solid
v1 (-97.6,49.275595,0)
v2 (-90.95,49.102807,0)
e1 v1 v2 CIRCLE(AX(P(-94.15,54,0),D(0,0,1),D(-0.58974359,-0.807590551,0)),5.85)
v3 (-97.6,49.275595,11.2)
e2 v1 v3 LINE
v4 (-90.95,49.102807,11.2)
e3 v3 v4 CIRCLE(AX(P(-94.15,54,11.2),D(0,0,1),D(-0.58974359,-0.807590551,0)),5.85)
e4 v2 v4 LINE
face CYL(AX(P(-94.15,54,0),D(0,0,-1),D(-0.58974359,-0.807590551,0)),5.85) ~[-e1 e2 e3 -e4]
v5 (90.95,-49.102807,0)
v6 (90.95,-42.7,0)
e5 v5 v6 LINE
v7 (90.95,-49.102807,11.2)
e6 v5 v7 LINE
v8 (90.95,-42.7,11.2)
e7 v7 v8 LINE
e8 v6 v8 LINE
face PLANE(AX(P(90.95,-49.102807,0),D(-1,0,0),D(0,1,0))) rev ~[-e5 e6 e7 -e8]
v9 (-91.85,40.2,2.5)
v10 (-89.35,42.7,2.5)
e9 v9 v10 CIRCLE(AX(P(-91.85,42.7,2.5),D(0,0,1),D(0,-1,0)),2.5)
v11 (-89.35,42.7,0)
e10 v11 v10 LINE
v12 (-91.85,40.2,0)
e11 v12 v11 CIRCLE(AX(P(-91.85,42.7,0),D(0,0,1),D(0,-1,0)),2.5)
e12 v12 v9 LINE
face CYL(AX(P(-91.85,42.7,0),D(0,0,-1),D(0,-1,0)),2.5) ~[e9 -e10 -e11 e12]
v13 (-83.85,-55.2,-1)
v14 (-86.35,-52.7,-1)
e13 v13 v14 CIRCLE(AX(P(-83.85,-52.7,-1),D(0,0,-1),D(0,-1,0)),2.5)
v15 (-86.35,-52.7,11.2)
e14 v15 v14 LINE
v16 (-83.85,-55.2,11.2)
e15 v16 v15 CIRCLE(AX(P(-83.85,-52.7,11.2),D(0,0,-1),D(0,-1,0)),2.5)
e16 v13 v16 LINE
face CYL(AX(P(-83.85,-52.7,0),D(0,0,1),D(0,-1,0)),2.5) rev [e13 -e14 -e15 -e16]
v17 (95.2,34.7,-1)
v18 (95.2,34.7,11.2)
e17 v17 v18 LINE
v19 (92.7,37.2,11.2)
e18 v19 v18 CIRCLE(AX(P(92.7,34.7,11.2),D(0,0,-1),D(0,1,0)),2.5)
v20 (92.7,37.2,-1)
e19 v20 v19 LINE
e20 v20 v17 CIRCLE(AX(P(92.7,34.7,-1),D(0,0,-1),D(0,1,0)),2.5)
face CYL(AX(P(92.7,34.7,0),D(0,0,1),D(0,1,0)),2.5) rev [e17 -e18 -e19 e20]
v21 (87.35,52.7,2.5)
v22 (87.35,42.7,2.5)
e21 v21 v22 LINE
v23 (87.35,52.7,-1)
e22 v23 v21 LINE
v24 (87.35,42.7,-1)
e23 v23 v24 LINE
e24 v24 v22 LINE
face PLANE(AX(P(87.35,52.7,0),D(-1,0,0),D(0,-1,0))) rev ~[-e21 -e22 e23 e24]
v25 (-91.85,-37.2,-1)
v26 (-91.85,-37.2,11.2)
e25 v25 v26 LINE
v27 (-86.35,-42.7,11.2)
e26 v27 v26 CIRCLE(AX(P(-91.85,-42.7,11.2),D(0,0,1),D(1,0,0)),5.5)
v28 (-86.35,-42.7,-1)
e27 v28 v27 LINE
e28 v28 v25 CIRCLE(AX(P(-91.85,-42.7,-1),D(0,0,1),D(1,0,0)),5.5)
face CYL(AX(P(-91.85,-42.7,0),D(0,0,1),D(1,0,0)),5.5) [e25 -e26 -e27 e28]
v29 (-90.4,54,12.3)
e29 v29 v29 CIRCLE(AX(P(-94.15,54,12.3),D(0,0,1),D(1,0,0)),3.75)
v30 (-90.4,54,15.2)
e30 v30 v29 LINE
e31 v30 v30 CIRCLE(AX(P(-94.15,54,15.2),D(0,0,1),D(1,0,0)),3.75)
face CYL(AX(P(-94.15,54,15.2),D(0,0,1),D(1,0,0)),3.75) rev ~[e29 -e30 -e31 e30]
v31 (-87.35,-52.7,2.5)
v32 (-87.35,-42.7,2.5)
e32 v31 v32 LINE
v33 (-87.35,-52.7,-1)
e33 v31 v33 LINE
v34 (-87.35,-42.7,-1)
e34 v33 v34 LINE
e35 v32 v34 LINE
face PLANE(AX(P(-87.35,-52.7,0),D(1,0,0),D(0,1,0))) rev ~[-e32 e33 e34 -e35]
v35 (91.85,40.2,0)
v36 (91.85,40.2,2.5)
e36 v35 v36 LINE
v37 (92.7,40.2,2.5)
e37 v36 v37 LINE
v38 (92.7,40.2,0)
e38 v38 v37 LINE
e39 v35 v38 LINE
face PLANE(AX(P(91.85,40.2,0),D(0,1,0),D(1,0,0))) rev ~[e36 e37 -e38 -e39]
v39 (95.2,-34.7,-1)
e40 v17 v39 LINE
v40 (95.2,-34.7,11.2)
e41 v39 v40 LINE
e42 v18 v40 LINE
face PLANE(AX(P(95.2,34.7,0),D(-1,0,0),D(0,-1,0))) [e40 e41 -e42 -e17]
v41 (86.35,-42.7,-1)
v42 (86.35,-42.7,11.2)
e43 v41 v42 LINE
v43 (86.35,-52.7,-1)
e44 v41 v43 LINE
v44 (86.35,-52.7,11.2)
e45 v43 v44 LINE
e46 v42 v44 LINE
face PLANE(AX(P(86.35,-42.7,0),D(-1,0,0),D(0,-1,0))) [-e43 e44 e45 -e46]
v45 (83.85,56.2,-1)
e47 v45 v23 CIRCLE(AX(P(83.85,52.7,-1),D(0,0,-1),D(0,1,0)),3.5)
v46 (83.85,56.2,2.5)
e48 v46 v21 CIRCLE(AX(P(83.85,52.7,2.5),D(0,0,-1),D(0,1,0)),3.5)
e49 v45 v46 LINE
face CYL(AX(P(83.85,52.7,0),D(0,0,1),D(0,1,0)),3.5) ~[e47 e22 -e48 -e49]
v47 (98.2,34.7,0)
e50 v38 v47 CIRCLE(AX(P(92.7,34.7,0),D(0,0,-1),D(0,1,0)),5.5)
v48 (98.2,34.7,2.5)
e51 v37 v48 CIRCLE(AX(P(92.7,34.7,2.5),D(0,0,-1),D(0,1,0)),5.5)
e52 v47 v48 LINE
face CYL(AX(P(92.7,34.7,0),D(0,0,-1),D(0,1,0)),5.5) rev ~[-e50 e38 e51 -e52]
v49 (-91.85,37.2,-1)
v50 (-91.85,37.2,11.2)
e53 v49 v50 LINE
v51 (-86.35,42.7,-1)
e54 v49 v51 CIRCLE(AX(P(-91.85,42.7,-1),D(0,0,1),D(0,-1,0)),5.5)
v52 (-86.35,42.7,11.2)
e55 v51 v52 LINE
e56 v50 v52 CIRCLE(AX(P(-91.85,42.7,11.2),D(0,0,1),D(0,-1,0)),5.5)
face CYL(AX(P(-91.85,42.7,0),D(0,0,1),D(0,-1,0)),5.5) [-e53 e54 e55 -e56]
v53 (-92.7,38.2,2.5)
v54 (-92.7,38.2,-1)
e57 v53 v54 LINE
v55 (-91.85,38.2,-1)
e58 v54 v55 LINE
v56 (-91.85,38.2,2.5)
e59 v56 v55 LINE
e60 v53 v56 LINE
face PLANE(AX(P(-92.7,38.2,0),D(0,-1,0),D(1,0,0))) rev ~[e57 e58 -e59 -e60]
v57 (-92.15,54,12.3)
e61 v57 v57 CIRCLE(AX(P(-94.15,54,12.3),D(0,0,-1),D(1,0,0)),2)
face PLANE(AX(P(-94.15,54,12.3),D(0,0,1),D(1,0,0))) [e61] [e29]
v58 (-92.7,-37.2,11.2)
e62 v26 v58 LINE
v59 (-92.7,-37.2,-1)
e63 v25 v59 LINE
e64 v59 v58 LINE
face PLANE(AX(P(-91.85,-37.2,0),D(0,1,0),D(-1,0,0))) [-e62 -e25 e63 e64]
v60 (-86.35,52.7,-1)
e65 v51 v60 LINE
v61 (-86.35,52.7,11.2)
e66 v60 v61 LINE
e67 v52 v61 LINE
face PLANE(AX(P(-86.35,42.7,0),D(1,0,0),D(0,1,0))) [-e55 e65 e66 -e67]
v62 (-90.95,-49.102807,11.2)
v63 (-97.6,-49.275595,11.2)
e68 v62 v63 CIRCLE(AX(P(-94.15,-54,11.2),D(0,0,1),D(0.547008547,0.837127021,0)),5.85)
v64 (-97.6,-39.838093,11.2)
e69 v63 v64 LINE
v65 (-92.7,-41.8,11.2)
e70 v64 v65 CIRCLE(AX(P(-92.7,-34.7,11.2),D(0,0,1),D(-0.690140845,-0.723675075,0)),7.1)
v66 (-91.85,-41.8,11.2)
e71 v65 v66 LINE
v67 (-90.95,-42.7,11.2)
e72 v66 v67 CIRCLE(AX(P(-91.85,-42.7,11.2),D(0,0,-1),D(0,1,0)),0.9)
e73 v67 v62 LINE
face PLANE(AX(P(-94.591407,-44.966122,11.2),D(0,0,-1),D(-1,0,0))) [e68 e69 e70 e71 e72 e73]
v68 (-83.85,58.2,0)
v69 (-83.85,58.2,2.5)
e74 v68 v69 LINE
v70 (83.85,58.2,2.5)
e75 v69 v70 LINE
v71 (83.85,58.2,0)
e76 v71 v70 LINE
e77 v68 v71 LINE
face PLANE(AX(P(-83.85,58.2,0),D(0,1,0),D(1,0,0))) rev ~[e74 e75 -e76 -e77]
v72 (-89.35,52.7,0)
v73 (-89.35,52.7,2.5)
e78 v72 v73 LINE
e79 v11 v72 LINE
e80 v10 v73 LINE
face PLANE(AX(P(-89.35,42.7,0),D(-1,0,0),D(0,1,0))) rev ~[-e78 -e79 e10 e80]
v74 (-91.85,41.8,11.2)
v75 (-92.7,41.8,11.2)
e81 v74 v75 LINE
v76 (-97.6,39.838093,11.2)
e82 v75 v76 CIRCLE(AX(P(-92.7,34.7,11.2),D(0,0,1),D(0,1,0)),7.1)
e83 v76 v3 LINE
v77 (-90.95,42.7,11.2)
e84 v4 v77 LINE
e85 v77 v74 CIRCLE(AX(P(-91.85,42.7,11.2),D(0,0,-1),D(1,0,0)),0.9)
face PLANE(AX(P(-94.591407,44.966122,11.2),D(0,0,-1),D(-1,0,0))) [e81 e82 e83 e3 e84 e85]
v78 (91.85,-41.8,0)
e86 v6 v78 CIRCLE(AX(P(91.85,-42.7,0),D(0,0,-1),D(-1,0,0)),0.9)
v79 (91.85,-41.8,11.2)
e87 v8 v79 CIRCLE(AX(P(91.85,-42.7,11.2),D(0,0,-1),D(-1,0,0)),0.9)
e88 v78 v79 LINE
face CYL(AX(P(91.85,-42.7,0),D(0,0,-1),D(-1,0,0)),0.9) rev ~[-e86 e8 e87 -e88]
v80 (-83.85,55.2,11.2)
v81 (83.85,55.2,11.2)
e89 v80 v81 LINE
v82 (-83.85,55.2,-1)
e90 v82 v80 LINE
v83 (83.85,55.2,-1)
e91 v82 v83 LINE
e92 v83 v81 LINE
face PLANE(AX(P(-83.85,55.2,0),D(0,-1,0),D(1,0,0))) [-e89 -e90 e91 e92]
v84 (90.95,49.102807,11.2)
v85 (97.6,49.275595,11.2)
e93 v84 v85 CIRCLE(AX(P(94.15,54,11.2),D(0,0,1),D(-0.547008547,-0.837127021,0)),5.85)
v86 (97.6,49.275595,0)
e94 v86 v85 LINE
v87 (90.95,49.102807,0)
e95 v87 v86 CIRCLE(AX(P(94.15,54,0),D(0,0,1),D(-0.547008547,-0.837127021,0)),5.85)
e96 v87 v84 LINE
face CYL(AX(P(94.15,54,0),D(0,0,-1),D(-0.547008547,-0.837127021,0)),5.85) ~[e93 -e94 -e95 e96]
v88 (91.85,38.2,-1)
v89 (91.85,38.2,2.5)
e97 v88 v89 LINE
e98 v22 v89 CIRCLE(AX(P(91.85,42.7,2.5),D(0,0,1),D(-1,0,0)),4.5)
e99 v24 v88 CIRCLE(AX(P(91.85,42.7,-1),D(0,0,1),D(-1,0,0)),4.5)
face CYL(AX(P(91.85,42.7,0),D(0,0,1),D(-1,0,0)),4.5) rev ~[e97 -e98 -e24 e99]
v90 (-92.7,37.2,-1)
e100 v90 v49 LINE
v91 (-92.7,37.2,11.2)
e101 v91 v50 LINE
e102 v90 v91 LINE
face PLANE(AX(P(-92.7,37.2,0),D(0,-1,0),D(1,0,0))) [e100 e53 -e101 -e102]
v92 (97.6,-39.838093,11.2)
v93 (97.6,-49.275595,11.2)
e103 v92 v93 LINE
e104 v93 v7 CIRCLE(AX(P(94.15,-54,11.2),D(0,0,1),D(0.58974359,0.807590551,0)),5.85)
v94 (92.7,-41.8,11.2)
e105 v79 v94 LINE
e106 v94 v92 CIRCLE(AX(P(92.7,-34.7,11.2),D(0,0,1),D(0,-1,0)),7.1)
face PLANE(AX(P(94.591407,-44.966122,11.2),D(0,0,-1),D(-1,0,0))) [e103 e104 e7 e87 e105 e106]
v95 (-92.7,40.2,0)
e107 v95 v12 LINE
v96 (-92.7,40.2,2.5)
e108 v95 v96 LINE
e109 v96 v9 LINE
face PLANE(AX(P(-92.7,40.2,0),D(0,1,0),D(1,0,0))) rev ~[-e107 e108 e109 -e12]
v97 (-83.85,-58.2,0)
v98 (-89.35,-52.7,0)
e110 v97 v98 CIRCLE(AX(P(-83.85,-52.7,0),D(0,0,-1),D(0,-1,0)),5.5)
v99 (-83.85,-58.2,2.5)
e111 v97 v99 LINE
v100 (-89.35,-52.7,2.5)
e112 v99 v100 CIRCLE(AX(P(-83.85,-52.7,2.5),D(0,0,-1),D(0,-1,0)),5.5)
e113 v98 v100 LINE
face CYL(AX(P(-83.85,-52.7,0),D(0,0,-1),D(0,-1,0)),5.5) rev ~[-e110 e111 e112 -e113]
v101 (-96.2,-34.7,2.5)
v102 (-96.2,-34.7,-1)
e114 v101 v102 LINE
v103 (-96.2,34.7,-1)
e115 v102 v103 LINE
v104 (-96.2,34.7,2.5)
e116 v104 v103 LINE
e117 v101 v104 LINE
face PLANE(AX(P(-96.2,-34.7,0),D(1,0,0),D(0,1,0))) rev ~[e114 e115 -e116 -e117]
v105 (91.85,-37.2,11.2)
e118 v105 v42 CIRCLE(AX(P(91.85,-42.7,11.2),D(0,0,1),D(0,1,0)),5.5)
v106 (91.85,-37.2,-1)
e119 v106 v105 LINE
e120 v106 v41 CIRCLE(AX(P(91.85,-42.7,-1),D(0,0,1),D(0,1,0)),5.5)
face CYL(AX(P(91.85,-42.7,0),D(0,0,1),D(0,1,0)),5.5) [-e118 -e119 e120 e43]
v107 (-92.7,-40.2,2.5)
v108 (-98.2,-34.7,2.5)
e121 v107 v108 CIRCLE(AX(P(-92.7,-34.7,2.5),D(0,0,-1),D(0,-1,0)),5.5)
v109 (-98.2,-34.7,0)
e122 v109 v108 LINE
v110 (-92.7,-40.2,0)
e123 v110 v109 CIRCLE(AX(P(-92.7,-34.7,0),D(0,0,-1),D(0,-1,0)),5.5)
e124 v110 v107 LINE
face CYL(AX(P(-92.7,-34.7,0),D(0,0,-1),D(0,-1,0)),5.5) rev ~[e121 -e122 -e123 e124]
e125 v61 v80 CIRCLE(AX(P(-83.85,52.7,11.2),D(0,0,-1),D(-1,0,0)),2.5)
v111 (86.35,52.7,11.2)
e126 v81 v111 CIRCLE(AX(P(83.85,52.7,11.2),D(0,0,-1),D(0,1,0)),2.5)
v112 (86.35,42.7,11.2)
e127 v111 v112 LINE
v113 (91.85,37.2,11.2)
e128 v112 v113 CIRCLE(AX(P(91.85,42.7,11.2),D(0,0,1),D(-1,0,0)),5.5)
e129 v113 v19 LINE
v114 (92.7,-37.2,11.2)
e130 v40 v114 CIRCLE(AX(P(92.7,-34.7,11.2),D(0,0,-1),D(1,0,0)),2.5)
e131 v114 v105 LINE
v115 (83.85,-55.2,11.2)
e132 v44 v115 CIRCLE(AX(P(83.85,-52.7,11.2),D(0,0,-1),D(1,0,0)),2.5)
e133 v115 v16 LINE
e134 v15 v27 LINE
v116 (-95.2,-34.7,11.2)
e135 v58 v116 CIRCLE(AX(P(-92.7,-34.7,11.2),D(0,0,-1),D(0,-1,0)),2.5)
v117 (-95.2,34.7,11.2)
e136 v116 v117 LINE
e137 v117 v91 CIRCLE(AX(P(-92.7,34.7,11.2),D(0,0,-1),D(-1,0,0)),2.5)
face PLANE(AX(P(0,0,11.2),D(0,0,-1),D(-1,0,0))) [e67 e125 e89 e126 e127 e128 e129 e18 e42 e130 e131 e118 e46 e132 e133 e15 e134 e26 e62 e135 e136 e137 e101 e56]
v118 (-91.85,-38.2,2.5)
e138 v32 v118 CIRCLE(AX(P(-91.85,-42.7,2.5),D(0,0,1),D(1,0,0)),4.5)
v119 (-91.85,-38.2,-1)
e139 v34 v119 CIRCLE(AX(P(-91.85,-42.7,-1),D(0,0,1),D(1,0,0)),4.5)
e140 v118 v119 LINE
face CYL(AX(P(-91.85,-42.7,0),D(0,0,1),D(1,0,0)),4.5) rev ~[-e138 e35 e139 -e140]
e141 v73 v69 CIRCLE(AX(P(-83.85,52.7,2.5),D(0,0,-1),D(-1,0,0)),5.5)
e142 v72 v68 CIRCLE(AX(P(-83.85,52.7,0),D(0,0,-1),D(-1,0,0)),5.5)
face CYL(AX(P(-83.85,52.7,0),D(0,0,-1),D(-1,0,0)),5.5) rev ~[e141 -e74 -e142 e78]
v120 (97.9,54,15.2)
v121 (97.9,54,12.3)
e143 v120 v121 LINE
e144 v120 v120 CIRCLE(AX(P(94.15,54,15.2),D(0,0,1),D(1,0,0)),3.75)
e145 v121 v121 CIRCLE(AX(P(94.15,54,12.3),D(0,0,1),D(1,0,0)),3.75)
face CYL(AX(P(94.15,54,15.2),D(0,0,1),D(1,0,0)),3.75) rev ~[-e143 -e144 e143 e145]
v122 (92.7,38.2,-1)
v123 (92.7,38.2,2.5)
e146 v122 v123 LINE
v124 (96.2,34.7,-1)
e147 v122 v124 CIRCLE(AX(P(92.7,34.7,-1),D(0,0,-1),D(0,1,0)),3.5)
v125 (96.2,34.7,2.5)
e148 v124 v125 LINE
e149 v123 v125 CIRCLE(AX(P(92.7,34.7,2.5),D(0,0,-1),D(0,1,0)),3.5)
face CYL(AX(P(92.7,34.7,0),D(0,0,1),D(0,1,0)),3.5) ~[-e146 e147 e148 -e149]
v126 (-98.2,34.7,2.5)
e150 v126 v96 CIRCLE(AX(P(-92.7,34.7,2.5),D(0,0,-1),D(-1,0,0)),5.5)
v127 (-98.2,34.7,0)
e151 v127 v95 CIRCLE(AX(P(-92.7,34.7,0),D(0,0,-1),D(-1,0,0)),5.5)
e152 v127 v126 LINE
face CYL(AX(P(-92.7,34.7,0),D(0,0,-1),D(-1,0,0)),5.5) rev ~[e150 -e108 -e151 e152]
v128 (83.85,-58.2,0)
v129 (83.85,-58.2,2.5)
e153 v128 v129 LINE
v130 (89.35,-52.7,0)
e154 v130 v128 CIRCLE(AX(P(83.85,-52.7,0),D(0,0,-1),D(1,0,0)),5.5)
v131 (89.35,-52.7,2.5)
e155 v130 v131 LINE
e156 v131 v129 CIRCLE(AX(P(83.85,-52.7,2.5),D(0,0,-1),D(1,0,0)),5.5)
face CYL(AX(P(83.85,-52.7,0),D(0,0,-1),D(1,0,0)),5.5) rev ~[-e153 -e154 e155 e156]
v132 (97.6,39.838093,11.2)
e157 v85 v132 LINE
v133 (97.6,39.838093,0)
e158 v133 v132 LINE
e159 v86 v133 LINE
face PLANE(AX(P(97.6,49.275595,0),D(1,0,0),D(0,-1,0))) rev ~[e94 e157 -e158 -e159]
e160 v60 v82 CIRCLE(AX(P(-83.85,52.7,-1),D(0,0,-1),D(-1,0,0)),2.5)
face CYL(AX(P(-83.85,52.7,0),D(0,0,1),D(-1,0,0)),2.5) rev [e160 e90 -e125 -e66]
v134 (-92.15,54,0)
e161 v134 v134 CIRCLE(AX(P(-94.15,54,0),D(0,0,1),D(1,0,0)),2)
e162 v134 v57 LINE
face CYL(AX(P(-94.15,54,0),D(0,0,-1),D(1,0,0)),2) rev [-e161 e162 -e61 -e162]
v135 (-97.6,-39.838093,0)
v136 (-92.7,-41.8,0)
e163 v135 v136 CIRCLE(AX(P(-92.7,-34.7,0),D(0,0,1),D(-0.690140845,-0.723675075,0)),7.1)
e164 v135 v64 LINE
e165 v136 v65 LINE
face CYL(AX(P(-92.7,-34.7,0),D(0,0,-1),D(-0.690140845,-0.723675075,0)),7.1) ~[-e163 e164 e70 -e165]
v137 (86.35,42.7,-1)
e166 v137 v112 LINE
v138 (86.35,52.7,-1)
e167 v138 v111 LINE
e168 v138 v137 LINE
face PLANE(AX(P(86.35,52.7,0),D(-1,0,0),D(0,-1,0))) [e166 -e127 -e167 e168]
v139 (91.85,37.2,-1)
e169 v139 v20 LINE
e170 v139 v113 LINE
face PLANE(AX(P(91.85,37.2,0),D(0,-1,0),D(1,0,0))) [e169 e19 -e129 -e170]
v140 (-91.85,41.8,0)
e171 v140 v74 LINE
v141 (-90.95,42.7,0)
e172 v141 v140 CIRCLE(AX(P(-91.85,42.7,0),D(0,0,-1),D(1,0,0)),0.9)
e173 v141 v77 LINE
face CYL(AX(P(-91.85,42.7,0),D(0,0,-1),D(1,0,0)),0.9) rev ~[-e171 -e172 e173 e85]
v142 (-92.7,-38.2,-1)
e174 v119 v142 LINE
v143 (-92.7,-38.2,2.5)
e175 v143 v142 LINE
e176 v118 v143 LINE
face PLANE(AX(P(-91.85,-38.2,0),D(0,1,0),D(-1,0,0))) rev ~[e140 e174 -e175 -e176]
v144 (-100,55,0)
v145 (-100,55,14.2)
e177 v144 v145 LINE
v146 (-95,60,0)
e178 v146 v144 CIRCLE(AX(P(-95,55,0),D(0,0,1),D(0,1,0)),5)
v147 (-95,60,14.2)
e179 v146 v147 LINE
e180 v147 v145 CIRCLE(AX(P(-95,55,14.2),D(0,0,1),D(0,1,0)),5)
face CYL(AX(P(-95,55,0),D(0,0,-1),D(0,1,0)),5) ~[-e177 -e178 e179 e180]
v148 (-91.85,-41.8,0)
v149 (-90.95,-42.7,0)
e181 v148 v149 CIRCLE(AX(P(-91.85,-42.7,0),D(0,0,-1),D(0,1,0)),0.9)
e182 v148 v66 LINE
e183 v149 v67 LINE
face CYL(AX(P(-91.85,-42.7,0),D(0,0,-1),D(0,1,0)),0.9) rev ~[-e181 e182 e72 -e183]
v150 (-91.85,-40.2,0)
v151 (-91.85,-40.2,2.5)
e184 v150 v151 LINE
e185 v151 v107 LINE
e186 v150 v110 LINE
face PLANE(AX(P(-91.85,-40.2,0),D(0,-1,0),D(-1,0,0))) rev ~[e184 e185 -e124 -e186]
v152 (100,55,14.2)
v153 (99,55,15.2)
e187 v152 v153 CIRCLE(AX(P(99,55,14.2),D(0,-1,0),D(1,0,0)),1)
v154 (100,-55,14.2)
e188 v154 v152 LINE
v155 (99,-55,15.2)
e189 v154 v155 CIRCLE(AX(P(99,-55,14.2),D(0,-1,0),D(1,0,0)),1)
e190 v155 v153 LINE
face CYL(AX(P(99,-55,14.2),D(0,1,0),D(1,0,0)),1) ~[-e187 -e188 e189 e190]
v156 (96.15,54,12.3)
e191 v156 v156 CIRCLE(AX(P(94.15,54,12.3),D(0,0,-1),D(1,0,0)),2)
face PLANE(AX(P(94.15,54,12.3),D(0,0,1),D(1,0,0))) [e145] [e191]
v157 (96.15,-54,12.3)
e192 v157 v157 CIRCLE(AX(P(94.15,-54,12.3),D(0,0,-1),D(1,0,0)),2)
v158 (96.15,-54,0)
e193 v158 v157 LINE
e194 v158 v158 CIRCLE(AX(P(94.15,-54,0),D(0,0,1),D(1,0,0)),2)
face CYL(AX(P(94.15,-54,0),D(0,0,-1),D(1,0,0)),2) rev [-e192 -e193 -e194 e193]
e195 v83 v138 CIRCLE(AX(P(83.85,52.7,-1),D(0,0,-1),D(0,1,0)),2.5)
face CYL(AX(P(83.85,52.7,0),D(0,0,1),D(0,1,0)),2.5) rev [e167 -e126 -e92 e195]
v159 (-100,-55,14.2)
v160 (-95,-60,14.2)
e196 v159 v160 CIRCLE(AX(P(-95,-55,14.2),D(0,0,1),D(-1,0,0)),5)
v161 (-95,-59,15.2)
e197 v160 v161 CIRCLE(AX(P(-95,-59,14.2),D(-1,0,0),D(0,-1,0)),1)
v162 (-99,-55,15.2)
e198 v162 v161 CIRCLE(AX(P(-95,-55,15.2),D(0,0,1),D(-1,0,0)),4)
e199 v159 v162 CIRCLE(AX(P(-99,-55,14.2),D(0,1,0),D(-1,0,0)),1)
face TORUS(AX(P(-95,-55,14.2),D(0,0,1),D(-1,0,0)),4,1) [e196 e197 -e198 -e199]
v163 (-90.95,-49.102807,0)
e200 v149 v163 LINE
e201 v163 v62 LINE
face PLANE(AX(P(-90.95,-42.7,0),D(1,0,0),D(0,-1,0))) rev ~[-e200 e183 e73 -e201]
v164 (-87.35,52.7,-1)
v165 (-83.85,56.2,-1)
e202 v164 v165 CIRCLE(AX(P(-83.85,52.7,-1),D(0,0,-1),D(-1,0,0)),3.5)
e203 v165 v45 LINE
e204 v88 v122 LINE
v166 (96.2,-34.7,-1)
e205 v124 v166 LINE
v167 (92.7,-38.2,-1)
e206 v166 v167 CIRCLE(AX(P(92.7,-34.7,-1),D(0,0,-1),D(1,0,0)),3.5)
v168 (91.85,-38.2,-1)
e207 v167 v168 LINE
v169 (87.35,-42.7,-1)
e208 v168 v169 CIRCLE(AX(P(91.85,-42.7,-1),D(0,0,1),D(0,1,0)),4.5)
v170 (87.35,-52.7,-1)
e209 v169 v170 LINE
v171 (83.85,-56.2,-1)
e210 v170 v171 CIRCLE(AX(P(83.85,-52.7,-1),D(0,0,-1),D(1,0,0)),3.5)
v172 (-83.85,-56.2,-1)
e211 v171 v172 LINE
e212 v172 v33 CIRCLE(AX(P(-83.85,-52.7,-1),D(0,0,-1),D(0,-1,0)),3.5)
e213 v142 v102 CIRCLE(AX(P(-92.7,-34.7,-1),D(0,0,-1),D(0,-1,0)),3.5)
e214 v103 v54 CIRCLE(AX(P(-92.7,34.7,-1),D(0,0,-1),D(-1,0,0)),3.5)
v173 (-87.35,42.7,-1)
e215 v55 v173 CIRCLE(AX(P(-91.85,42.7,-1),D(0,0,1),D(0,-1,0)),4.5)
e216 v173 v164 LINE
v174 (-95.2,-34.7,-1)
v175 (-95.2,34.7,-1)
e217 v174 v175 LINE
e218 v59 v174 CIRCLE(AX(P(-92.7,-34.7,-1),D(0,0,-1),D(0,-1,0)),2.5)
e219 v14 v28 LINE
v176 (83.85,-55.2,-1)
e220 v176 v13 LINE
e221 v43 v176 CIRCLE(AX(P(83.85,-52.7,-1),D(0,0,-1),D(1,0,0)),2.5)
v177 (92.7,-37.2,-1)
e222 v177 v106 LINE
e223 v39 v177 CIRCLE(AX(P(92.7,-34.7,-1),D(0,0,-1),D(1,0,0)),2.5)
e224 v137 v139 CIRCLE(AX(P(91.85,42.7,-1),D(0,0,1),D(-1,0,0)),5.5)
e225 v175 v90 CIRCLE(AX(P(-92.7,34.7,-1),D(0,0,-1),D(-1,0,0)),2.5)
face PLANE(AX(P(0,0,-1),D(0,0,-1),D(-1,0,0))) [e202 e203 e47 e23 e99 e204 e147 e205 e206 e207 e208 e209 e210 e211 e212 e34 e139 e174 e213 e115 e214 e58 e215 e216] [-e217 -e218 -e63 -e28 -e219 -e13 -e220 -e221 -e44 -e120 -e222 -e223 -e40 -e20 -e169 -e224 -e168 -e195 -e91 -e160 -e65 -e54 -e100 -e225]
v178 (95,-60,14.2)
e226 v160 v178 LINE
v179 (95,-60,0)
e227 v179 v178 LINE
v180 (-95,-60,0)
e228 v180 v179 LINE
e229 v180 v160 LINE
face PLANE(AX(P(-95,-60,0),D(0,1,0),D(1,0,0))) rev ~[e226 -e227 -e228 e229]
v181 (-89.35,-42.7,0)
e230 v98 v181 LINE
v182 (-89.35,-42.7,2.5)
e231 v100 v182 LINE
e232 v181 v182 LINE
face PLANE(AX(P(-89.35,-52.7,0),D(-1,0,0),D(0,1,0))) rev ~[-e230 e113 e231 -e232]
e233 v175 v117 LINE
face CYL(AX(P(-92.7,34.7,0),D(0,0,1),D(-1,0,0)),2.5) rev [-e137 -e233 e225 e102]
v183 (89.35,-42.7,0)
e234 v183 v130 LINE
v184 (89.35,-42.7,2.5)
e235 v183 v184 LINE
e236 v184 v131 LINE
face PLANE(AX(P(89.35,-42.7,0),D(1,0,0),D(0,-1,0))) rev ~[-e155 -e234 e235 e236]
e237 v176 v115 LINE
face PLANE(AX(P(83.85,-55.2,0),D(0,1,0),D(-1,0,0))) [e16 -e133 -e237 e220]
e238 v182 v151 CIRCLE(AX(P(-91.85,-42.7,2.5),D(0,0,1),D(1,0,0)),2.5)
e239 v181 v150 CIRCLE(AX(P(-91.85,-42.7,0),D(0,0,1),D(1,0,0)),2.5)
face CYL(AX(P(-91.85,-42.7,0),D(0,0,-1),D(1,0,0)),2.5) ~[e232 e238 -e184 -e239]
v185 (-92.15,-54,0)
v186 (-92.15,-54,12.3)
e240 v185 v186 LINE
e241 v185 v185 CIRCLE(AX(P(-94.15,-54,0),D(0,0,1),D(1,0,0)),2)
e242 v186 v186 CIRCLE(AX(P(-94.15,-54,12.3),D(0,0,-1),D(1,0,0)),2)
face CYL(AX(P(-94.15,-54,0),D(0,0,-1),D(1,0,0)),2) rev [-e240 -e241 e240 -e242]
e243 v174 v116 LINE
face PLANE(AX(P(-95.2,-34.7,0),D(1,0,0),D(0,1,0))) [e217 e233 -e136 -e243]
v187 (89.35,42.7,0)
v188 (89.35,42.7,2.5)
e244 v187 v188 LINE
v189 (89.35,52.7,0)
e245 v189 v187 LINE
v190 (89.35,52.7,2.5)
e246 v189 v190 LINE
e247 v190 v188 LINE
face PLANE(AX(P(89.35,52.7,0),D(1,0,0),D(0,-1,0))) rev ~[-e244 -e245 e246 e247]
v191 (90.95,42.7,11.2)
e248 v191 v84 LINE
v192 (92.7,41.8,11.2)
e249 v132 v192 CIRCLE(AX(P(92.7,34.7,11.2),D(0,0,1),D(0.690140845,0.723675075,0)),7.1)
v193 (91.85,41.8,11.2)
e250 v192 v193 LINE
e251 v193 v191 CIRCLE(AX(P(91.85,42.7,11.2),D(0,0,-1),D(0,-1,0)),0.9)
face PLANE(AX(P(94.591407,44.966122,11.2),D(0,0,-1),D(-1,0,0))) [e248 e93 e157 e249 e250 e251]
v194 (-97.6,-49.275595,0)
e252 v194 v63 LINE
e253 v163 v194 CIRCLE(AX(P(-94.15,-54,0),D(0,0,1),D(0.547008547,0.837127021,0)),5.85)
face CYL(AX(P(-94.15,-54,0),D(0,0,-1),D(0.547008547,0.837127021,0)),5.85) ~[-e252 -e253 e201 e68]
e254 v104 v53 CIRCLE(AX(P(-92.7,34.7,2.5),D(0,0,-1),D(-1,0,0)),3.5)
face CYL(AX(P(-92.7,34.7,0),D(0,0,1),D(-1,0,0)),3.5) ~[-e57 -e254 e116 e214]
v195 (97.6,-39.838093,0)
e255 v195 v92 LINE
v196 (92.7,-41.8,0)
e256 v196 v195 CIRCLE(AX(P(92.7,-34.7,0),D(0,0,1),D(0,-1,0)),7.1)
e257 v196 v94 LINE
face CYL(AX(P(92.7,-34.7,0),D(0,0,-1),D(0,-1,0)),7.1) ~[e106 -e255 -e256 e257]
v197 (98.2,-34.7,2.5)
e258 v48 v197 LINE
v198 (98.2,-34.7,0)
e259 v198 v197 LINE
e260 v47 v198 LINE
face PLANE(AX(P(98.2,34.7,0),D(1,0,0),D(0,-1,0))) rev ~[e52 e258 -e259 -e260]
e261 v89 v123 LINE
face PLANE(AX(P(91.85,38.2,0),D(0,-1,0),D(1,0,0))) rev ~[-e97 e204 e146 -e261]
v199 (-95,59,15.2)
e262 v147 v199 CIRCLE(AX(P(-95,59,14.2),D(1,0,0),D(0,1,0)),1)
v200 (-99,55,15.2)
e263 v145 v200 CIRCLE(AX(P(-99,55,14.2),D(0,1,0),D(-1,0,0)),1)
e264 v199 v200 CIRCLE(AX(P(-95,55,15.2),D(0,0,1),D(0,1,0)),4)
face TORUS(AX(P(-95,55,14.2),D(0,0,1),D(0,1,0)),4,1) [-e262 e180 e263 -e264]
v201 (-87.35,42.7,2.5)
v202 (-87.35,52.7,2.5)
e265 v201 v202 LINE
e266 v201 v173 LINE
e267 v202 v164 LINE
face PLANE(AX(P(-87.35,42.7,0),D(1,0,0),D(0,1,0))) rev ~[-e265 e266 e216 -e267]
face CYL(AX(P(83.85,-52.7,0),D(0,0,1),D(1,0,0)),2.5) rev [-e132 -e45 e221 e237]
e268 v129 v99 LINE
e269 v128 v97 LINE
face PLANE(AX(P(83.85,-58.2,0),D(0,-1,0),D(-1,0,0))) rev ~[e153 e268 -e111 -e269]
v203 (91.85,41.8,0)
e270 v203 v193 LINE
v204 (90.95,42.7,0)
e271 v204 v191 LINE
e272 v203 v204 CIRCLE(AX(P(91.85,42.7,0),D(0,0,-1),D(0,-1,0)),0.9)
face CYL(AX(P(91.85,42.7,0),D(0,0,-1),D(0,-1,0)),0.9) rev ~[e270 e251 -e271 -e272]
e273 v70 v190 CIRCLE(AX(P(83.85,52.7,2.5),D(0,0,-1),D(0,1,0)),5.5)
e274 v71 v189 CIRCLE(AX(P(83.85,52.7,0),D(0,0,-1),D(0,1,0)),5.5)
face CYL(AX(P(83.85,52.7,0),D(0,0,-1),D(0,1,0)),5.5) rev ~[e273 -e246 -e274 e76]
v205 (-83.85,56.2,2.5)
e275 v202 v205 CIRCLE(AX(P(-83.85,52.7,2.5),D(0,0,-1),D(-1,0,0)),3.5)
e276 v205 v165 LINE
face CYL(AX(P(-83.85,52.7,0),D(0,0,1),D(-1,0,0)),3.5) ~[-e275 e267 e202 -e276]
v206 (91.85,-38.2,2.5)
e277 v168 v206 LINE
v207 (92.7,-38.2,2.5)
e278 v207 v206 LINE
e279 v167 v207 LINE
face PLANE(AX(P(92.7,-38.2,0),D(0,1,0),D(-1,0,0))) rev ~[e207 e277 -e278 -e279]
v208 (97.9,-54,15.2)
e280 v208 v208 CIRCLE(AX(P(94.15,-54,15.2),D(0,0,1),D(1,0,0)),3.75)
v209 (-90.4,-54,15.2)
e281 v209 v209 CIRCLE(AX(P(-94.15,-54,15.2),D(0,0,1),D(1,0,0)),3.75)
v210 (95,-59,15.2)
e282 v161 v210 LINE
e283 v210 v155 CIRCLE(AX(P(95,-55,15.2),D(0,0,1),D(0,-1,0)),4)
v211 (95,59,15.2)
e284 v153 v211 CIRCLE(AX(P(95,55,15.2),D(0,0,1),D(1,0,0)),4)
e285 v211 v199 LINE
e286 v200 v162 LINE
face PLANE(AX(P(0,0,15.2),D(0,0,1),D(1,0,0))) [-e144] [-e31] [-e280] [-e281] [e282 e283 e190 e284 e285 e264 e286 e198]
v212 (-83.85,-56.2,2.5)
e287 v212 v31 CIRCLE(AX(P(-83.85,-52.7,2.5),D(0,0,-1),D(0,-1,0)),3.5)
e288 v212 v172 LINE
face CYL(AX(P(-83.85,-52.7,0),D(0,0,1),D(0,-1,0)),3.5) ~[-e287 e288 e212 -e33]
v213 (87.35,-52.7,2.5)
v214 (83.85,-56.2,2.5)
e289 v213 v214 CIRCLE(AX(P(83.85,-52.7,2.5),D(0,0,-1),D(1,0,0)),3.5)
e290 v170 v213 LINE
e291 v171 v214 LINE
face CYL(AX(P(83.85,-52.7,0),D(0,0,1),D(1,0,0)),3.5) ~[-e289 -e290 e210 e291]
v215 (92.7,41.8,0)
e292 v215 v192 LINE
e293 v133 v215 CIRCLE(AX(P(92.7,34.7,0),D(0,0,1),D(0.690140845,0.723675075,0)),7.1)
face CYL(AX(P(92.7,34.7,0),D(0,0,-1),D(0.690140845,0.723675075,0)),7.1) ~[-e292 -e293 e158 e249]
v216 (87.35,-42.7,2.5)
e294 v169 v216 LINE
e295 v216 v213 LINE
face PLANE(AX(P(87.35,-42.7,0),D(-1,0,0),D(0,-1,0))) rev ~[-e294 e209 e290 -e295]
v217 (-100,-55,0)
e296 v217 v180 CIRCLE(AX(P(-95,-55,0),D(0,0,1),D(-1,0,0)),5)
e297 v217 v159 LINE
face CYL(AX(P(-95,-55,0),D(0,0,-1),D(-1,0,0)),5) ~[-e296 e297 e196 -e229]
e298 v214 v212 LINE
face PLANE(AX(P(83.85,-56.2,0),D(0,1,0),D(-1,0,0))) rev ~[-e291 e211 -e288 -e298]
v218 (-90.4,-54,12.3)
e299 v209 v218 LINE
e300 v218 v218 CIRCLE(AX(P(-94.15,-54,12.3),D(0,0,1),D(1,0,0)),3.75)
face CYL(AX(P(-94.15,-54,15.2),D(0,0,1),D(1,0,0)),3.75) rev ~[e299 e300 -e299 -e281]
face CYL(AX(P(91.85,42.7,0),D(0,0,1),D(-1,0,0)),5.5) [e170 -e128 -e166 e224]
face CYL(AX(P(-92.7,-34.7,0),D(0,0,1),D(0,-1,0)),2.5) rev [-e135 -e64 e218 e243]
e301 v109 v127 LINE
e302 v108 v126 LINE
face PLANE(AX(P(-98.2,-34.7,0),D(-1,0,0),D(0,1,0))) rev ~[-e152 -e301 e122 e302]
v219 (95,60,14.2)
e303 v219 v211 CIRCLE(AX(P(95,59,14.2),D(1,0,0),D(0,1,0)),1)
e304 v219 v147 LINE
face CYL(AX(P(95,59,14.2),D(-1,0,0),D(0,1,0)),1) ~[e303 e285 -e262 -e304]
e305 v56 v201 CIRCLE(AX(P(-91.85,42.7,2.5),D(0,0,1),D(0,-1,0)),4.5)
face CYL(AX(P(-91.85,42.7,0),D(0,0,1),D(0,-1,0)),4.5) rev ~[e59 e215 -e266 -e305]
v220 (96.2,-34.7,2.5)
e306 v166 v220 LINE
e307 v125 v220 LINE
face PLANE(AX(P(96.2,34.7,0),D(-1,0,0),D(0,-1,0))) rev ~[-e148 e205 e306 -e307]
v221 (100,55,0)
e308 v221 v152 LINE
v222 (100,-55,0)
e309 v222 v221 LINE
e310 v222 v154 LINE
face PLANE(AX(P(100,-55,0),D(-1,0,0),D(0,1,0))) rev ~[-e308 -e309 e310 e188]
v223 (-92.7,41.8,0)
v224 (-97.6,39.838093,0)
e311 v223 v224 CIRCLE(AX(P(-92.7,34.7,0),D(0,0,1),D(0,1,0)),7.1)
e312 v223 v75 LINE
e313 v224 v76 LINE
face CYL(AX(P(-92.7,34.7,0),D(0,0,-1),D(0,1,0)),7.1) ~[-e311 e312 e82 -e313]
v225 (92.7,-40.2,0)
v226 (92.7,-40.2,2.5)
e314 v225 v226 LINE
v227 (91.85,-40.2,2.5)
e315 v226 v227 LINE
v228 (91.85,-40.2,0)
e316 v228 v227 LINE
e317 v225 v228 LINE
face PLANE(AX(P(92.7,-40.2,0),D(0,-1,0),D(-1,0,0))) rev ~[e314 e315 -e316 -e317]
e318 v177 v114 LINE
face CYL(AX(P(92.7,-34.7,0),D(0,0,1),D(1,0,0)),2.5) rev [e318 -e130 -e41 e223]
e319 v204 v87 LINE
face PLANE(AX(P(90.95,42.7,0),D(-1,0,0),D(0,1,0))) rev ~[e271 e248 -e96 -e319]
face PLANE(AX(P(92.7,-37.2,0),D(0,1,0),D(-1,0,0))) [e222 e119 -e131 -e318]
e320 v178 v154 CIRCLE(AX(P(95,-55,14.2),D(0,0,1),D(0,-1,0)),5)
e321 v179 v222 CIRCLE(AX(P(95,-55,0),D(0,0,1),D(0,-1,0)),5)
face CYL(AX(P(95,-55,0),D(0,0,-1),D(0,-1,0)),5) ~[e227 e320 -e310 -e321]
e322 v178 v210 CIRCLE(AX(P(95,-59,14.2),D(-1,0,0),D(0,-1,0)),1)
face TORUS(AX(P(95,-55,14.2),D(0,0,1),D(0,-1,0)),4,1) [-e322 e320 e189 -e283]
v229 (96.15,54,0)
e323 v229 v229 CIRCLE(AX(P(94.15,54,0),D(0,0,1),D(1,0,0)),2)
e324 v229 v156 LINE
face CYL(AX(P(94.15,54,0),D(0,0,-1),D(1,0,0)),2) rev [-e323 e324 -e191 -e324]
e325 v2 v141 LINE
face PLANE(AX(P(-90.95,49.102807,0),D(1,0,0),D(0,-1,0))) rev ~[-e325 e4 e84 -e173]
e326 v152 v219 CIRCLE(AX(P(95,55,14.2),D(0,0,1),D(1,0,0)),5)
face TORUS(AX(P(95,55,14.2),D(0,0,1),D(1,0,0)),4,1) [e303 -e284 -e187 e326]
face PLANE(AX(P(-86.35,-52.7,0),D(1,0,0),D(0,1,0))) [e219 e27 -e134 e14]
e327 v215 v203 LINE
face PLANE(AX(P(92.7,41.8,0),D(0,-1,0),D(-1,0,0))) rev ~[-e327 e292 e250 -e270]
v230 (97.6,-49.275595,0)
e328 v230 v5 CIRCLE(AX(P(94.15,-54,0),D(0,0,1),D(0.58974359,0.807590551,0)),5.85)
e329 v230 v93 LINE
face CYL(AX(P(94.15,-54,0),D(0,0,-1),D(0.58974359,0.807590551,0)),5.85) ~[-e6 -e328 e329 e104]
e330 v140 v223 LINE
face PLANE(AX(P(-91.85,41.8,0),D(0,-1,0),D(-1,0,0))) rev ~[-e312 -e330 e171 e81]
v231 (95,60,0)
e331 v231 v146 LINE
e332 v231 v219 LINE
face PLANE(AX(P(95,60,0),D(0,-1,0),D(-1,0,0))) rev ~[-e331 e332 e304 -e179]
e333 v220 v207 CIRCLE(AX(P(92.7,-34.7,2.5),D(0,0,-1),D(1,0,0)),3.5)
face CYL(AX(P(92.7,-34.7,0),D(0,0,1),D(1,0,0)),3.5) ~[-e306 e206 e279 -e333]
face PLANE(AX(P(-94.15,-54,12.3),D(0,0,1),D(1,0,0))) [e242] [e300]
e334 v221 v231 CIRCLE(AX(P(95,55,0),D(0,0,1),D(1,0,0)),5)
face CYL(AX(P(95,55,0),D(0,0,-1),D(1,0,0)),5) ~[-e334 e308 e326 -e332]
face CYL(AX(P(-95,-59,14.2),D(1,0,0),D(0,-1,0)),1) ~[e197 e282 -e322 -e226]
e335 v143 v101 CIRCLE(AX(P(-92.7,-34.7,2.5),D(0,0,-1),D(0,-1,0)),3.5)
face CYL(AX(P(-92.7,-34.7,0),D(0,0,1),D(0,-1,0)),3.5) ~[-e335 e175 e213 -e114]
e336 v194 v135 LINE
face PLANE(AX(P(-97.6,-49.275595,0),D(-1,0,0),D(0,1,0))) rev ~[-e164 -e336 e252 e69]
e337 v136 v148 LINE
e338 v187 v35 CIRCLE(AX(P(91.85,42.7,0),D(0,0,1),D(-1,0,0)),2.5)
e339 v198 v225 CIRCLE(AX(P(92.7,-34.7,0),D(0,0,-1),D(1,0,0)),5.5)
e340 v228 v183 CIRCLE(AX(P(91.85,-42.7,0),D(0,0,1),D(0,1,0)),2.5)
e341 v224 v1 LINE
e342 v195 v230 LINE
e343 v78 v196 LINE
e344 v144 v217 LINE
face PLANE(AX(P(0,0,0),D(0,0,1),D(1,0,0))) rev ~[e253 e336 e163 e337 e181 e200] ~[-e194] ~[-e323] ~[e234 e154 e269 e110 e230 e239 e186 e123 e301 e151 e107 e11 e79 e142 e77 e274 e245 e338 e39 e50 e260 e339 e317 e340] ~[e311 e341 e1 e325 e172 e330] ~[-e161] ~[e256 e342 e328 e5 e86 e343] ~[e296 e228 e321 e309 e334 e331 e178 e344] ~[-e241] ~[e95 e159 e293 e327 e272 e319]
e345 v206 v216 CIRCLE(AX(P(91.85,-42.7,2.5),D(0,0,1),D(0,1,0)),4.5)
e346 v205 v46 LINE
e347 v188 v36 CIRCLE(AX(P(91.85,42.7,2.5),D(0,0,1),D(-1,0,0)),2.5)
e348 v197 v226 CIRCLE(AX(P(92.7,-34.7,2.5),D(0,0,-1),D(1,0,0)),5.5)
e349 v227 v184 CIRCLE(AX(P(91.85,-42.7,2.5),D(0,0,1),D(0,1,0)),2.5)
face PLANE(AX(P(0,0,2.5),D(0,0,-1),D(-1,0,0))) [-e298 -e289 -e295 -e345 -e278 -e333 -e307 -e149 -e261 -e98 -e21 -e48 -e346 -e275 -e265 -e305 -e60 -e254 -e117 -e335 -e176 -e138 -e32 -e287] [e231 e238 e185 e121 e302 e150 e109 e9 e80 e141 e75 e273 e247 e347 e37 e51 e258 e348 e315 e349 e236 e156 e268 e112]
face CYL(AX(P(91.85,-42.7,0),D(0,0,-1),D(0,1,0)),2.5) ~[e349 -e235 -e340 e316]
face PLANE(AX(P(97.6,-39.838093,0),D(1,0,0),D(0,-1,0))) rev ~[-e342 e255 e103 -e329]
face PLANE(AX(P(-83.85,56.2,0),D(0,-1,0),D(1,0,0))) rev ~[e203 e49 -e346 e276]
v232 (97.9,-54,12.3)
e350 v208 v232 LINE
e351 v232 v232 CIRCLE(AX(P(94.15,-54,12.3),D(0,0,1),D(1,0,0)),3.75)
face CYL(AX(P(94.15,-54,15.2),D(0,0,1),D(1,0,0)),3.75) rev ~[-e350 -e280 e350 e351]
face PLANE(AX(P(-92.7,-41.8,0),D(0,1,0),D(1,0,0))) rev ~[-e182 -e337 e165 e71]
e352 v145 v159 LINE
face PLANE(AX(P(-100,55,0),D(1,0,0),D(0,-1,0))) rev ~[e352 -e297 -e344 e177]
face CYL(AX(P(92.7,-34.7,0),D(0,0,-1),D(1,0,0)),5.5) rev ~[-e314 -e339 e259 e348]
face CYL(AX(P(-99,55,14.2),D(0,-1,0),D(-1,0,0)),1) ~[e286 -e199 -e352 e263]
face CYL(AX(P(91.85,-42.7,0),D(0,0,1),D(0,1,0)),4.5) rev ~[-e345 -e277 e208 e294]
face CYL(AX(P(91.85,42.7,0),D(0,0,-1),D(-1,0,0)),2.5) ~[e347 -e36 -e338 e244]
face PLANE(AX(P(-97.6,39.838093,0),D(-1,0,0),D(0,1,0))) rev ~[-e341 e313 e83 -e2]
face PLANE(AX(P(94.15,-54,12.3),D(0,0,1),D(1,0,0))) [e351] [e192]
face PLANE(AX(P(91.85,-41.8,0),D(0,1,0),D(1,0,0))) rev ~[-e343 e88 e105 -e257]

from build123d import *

# Parameters (mm, degrees)
SKETCH1_R           = 2
BOSS_EXTRUDE1_DEPTH = 15.2
SKETCH2_R           = 3.75
CUT_EXTRUDE1_DEPTH  = 2.9
FILLET1_R           = 1
CUT_EXTRUDE2_DEPTH  = 11.2
BOSS_EXTRUDE2_DEPTH = 1
CUT_EXTRUDE3_DEPTH  = 2.5
CUT_EXTRUDE4_DEPTH  = 11.2


with BuildPart() as part:
    # Sketch1 → Boss-Extrude1 (new body)
    with BuildSketch(Plane.XY):
        with BuildLine():
            Line((-95, -60), (95, -60))
            ThreePointArc((95, -60), (98.535533906, -58.535533906), (100, -55))
            Line((100, -55), (100, 55))
            ThreePointArc((100, 55), (98.535533906, 58.535533906), (95, 60))
            Line((95, 60), (-95, 60))
            ThreePointArc((-95, 60), (-98.535533906, 58.535533906), (-100, 55))
            Line((-100, 55), (-100, -55))
            ThreePointArc((-100, -55), (-98.535533906, -58.535533906), (-95, -60))
        make_face()
        with Locations((94.15, -54)):
            Circle(SKETCH1_R, mode=Mode.SUBTRACT)
        with Locations((94.15, 54)):
            Circle(SKETCH1_R, mode=Mode.SUBTRACT)
        with Locations((-94.15, 54)):
            Circle(SKETCH1_R, mode=Mode.SUBTRACT)
        with Locations((-94.15, -54)):
            Circle(SKETCH1_R, mode=Mode.SUBTRACT)
    extrude(amount=BOSS_EXTRUDE1_DEPTH)

    # Sketch2 → Cut-Extrude1 (cut)
    with BuildSketch(Plane.XY.offset(15.2)):
        with Locations((-94.15, 54)):
            Circle(SKETCH2_R)
        with Locations((94.15, 54)):
            Circle(SKETCH2_R)
        with Locations((94.15, -54)):
            Circle(SKETCH2_R)
        with Locations((-94.15, -54)):
            Circle(SKETCH2_R)
    extrude(amount=-CUT_EXTRUDE1_DEPTH, mode=Mode.SUBTRACT)

    # Fillet1
    fillet1_edges = [part.edges().sort_by_distance(p)[0] for p in [
        (98.535533906, -58.535533906, 15.2),
        (100, 0, 15.2),
        (98.535533906, 58.535533906, 15.2),
        (0, 60, 15.2),
        (-98.535533906, 58.535533906, 15.2),
        (-100, 0, 15.2),
        (-98.535533906, -58.535533906, 15.2),
        (0, -60, 15.2),
    ]]
    fillet(fillet1_edges, radius=FILLET1_R)

    # Sketch3 → Cut-Extrude2 (cut)
    with BuildSketch(Plane(origin=(0, 0, 0), x_dir=(-1, 0, 0), z_dir=(0, 0, -1))):
        with BuildLine():
            Line((86.35, -52.7), (86.35, -42.7))
            ThreePointArc((86.35, -42.7), (87.960912703, -38.810912703), (91.85, -37.2))
            Line((91.85, -37.2), (92.7, -37.2))
            ThreePointArc((92.7, -37.2), (94.467766953, -36.467766953), (95.2, -34.7))
            Line((95.2, -34.7), (95.2, 34.7))
            ThreePointArc((95.2, 34.7), (94.467766953, 36.467766953), (92.7, 37.2))
            Line((92.7, 37.2), (91.85, 37.2))
            ThreePointArc((91.85, 37.2), (87.960912703, 38.810912703), (86.35, 42.7))
            Line((86.35, 42.7), (86.35, 52.7))
            ThreePointArc((86.35, 52.7), (85.617766953, 54.467766953), (83.85, 55.2))
            Line((83.85, 55.2), (-83.85, 55.2))
            ThreePointArc((-83.85, 55.2), (-85.617766953, 54.467766953), (-86.35, 52.7))
            Line((-86.35, 52.7), (-86.35, 42.7))
            ThreePointArc((-86.35, 42.7), (-87.960912703, 38.810912703), (-91.85, 37.2))
            Line((-91.85, 37.2), (-92.7, 37.2))
            ThreePointArc((-92.7, 37.2), (-94.467766953, 36.467766953), (-95.2, 34.7))
            Line((-95.2, 34.7), (-95.2, -34.7))
            ThreePointArc((-95.2, -34.7), (-94.467766953, -36.467766953), (-92.7, -37.2))
            Line((-92.7, -37.2), (-91.85, -37.2))
            ThreePointArc((-91.85, -37.2), (-87.960912703, -38.810912703), (-86.35, -42.7))
            Line((-86.35, -42.7), (-86.35, -52.7))
            ThreePointArc((-86.35, -52.7), (-85.617766953, -54.467766953), (-83.85, -55.2))
            Line((-83.85, -55.2), (83.85, -55.2))
            ThreePointArc((83.85, -55.2), (85.617766953, -54.467766953), (86.35, -52.7))
        make_face()
    extrude(amount=-CUT_EXTRUDE2_DEPTH, mode=Mode.SUBTRACT)

    # Sketch4 → Boss-Extrude2 (add)
    with BuildSketch(Plane(origin=(0, 0, 0), x_dir=(-1, 0, 0), z_dir=(0, 0, -1))):
        with BuildLine():
            Line((-83.85, -56.2), (83.85, -56.2))
            ThreePointArc((83.85, -56.2), (86.324873734, -55.174873734), (87.35, -52.7))
            Line((87.35, -52.7), (87.35, -42.7))
            ThreePointArc((87.35, -42.7), (88.668019485, -39.518019485), (91.85, -38.2))
            Line((91.85, -38.2), (92.7, -38.2))
            ThreePointArc((92.7, -38.2), (95.174873734, -37.174873734), (96.2, -34.7))
            Line((96.2, -34.7), (96.2, 34.7))
            ThreePointArc((96.2, 34.7), (95.174873734, 37.174873734), (92.7, 38.2))
            Line((92.7, 38.2), (91.85, 38.2))
            ThreePointArc((91.85, 38.2), (88.668019485, 39.518019485), (87.35, 42.7))
            Line((87.35, 42.7), (87.35, 52.7))
            ThreePointArc((87.35, 52.7), (86.324873734, 55.174873734), (83.85, 56.2))
            Line((83.85, 56.2), (-83.85, 56.2))
            ThreePointArc((-83.85, 56.2), (-86.324873734, 55.174873734), (-87.35, 52.7))
            Line((-87.35, 52.7), (-87.35, 42.7))
            ThreePointArc((-87.35, 42.7), (-88.668019485, 39.518019485), (-91.85, 38.2))
            Line((-91.85, 38.2), (-92.7, 38.2))
            ThreePointArc((-92.7, 38.2), (-95.174873734, 37.174873734), (-96.2, 34.7))
            Line((-96.2, 34.7), (-96.2, -34.7))
            ThreePointArc((-96.2, -34.7), (-95.174873734, -37.174873734), (-92.7, -38.2))
            Line((-92.7, -38.2), (-91.85, -38.2))
            ThreePointArc((-91.85, -38.2), (-88.668019485, -39.518019485), (-87.35, -42.7))
            Line((-87.35, -42.7), (-87.35, -52.7))
            ThreePointArc((-87.35, -52.7), (-86.324873734, -55.174873734), (-83.85, -56.2))
        make_face()
        with BuildLine():
            Line((86.35, -52.7), (86.35, -42.7))
            ThreePointArc((86.35, -42.7), (87.960912703, -38.810912703), (91.85, -37.2))
            Line((91.85, -37.2), (92.7, -37.2))
            ThreePointArc((92.7, -37.2), (94.467766953, -36.467766953), (95.2, -34.7))
            Line((95.2, -34.7), (95.2, 34.7))
            ThreePointArc((95.2, 34.7), (94.467766953, 36.467766953), (92.7, 37.2))
            Line((92.7, 37.2), (91.85, 37.2))
            ThreePointArc((91.85, 37.2), (87.960912703, 38.810912703), (86.35, 42.7))
            Line((86.35, 42.7), (86.35, 52.7))
            ThreePointArc((86.35, 52.7), (85.617766953, 54.467766953), (83.85, 55.2))
            Line((83.85, 55.2), (-83.85, 55.2))
            ThreePointArc((-83.85, 55.2), (-85.617766953, 54.467766953), (-86.35, 52.7))
            Line((-86.35, 52.7), (-86.35, 42.7))
            ThreePointArc((-86.35, 42.7), (-87.960912703, 38.810912703), (-91.85, 37.2))
            Line((-91.85, 37.2), (-92.7, 37.2))
            ThreePointArc((-92.7, 37.2), (-94.467766953, 36.467766953), (-95.2, 34.7))
            Line((-95.2, 34.7), (-95.2, -34.7))
            ThreePointArc((-95.2, -34.7), (-94.467766953, -36.467766953), (-92.7, -37.2))
            Line((-92.7, -37.2), (-91.85, -37.2))
            ThreePointArc((-91.85, -37.2), (-87.960912703, -38.810912703), (-86.35, -42.7))
            Line((-86.35, -42.7), (-86.35, -52.7))
            ThreePointArc((-86.35, -52.7), (-85.617766953, -54.467766953), (-83.85, -55.2))
            Line((-83.85, -55.2), (83.85, -55.2))
            ThreePointArc((83.85, -55.2), (85.617766953, -54.467766953), (86.35, -52.7))
        make_face(mode=Mode.SUBTRACT)
    extrude(amount=BOSS_EXTRUDE2_DEPTH)

    # Sketch5 → Cut-Extrude3 (cut)
    with BuildSketch(Plane(origin=(0, 0, 0), x_dir=(-1, 0, 0), z_dir=(0, 0, -1))):
        with BuildLine():
            Line((92.7, 40.2), (91.85, 40.2))
            ThreePointArc((91.85, 40.2), (90.082233047, 40.932233047), (89.35, 42.7))
            Line((89.35, 42.7), (89.35, 52.7))
            ThreePointArc((89.35, 52.7), (87.739087297, 56.589087297), (83.85, 58.2))
            Line((83.85, 58.2), (-83.85, 58.2))
            ThreePointArc((-83.85, 58.2), (-87.739087297, 56.589087297), (-89.35, 52.7))
            Line((-89.35, 52.7), (-89.35, 42.7))
            ThreePointArc((-89.35, 42.7), (-90.082233047, 40.932233047), (-91.85, 40.2))
            Line((-91.85, 40.2), (-92.7, 40.2))
            ThreePointArc((-92.7, 40.2), (-96.589087297, 38.589087297), (-98.2, 34.7))
            Line((-98.2, 34.7), (-98.2, -34.7))
            ThreePointArc((-98.2, -34.7), (-96.589087297, -38.589087297), (-92.7, -40.2))
            Line((-92.7, -40.2), (-91.85, -40.2))
            ThreePointArc((-91.85, -40.2), (-90.082233047, -40.932233047), (-89.35, -42.7))
            Line((-89.35, -42.7), (-89.35, -52.7))
            ThreePointArc((-89.35, -52.7), (-87.739087297, -56.589087297), (-83.85, -58.2))
            Line((-83.85, -58.2), (83.85, -58.2))
            ThreePointArc((83.85, -58.2), (87.739087297, -56.589087297), (89.35, -52.7))
            Line((89.35, -52.7), (89.35, -42.7))
            ThreePointArc((89.35, -42.7), (90.082233047, -40.932233047), (91.85, -40.2))
            Line((91.85, -40.2), (92.7, -40.2))
            ThreePointArc((92.7, -40.2), (96.589087297, -38.589087297), (98.2, -34.7))
            Line((98.2, -34.7), (98.2, 34.7))
            ThreePointArc((98.2, 34.7), (96.589087297, 38.589087297), (92.7, 40.2))
        make_face()
        with BuildLine():
            Line((87.35, 42.7), (87.35, 52.7))
            ThreePointArc((87.35, 52.7), (86.324873734, 55.174873734), (83.85, 56.2))
            Line((83.85, 56.2), (-83.85, 56.2))
            ThreePointArc((-83.85, 56.2), (-86.324873734, 55.174873734), (-87.35, 52.7))
            Line((-87.35, 52.7), (-87.35, 42.7))
            ThreePointArc((-87.35, 42.7), (-88.668019485, 39.518019485), (-91.85, 38.2))
            Line((-91.85, 38.2), (-92.7, 38.2))
            ThreePointArc((-92.7, 38.2), (-95.174873734, 37.174873734), (-96.2, 34.7))
            Line((-96.2, 34.7), (-96.2, -34.7))
            ThreePointArc((-96.2, -34.7), (-95.174873734, -37.174873734), (-92.7, -38.2))
            Line((-92.7, -38.2), (-91.85, -38.2))
            ThreePointArc((-91.85, -38.2), (-88.668019485, -39.518019485), (-87.35, -42.7))
            Line((-87.35, -42.7), (-87.35, -52.7))
            ThreePointArc((-87.35, -52.7), (-86.324873734, -55.174873734), (-83.85, -56.2))
            Line((-83.85, -56.2), (83.85, -56.2))
            ThreePointArc((83.85, -56.2), (86.324873734, -55.174873734), (87.35, -52.7))
            Line((87.35, -52.7), (87.35, -42.7))
            ThreePointArc((87.35, -42.7), (88.668019485, -39.518019485), (91.85, -38.2))
            Line((91.85, -38.2), (92.7, -38.2))
            ThreePointArc((92.7, -38.2), (95.174873734, -37.174873734), (96.2, -34.7))
            Line((96.2, -34.7), (96.2, 34.7))
            ThreePointArc((96.2, 34.7), (95.174873734, 37.174873734), (92.7, 38.2))
            Line((92.7, 38.2), (91.85, 38.2))
            ThreePointArc((91.85, 38.2), (88.668019485, 39.518019485), (87.35, 42.7))
        make_face(mode=Mode.SUBTRACT)
    extrude(amount=-CUT_EXTRUDE3_DEPTH, mode=Mode.SUBTRACT)

    # Sketch6 → Cut-Extrude4 (cut)
    with BuildSketch(Plane(origin=(0, 0, 0), x_dir=(-1, 0, 0), z_dir=(0, 0, -1))):
        with BuildLine():
            Line((-97.6, 49.275595276), (-97.6, 39.838093031))
            ThreePointArc((-97.6, 39.838093031), (-95.339085019, 41.291299588), (-92.7, 41.8))
            Line((-92.7, 41.8), (-91.85, 41.8))
            ThreePointArc((-91.85, 41.8), (-91.213603897, 42.063603897), (-90.95, 42.7))
            Line((-90.95, 42.7), (-90.95, 49.102806926))
            ThreePointArc((-90.95, 49.102806926), (-94.301950497, 48.151973748), (-97.6, 49.275595276))
        make_face()
        with BuildLine():
            Line((-97.6, -39.838093031), (-97.6, -49.275595276))
            ThreePointArc((-97.6, -49.275595276), (-94.301950497, -48.151973748), (-90.95, -49.102806926))
            Line((-90.95, -49.102806926), (-90.95, -42.7))
            ThreePointArc((-90.95, -42.7), (-91.213603897, -42.063603897), (-91.85, -41.8))
            Line((-91.85, -41.8), (-92.7, -41.8))
            ThreePointArc((-92.7, -41.8), (-95.339085019, -41.291299588), (-97.6, -39.838093031))
        make_face()
        with BuildLine():
            Line((90.95, -42.7), (90.95, -49.102806926))
            ThreePointArc((90.95, -49.102806926), (94.301950497, -48.151973748), (97.6, -49.275595276))
            Line((97.6, -49.275595276), (97.6, -39.838093031))
            ThreePointArc((97.6, -39.838093031), (95.339085019, -41.291299588), (92.7, -41.8))
            Line((92.7, -41.8), (91.85, -41.8))
            ThreePointArc((91.85, -41.8), (91.213603897, -42.063603897), (90.95, -42.7))
        make_face()
        with BuildLine():
            ThreePointArc((92.7, 41.8), (95.339085019, 41.291299588), (97.6, 39.838093031))
            Line((97.6, 39.838093031), (97.6, 49.275595276))
            ThreePointArc((97.6, 49.275595276), (94.301950497, 48.151973748), (90.95, 49.102806926))
            Line((90.95, 49.102806926), (90.95, 42.7))
            ThreePointArc((90.95, 42.7), (91.213603897, 42.063603897), (91.85, 41.8))
            Line((91.85, 41.8), (92.7, 41.8))
        make_face()
    extrude(amount=-CUT_EXTRUDE4_DEPTH, mode=Mode.SUBTRACT)


solid = part.part
